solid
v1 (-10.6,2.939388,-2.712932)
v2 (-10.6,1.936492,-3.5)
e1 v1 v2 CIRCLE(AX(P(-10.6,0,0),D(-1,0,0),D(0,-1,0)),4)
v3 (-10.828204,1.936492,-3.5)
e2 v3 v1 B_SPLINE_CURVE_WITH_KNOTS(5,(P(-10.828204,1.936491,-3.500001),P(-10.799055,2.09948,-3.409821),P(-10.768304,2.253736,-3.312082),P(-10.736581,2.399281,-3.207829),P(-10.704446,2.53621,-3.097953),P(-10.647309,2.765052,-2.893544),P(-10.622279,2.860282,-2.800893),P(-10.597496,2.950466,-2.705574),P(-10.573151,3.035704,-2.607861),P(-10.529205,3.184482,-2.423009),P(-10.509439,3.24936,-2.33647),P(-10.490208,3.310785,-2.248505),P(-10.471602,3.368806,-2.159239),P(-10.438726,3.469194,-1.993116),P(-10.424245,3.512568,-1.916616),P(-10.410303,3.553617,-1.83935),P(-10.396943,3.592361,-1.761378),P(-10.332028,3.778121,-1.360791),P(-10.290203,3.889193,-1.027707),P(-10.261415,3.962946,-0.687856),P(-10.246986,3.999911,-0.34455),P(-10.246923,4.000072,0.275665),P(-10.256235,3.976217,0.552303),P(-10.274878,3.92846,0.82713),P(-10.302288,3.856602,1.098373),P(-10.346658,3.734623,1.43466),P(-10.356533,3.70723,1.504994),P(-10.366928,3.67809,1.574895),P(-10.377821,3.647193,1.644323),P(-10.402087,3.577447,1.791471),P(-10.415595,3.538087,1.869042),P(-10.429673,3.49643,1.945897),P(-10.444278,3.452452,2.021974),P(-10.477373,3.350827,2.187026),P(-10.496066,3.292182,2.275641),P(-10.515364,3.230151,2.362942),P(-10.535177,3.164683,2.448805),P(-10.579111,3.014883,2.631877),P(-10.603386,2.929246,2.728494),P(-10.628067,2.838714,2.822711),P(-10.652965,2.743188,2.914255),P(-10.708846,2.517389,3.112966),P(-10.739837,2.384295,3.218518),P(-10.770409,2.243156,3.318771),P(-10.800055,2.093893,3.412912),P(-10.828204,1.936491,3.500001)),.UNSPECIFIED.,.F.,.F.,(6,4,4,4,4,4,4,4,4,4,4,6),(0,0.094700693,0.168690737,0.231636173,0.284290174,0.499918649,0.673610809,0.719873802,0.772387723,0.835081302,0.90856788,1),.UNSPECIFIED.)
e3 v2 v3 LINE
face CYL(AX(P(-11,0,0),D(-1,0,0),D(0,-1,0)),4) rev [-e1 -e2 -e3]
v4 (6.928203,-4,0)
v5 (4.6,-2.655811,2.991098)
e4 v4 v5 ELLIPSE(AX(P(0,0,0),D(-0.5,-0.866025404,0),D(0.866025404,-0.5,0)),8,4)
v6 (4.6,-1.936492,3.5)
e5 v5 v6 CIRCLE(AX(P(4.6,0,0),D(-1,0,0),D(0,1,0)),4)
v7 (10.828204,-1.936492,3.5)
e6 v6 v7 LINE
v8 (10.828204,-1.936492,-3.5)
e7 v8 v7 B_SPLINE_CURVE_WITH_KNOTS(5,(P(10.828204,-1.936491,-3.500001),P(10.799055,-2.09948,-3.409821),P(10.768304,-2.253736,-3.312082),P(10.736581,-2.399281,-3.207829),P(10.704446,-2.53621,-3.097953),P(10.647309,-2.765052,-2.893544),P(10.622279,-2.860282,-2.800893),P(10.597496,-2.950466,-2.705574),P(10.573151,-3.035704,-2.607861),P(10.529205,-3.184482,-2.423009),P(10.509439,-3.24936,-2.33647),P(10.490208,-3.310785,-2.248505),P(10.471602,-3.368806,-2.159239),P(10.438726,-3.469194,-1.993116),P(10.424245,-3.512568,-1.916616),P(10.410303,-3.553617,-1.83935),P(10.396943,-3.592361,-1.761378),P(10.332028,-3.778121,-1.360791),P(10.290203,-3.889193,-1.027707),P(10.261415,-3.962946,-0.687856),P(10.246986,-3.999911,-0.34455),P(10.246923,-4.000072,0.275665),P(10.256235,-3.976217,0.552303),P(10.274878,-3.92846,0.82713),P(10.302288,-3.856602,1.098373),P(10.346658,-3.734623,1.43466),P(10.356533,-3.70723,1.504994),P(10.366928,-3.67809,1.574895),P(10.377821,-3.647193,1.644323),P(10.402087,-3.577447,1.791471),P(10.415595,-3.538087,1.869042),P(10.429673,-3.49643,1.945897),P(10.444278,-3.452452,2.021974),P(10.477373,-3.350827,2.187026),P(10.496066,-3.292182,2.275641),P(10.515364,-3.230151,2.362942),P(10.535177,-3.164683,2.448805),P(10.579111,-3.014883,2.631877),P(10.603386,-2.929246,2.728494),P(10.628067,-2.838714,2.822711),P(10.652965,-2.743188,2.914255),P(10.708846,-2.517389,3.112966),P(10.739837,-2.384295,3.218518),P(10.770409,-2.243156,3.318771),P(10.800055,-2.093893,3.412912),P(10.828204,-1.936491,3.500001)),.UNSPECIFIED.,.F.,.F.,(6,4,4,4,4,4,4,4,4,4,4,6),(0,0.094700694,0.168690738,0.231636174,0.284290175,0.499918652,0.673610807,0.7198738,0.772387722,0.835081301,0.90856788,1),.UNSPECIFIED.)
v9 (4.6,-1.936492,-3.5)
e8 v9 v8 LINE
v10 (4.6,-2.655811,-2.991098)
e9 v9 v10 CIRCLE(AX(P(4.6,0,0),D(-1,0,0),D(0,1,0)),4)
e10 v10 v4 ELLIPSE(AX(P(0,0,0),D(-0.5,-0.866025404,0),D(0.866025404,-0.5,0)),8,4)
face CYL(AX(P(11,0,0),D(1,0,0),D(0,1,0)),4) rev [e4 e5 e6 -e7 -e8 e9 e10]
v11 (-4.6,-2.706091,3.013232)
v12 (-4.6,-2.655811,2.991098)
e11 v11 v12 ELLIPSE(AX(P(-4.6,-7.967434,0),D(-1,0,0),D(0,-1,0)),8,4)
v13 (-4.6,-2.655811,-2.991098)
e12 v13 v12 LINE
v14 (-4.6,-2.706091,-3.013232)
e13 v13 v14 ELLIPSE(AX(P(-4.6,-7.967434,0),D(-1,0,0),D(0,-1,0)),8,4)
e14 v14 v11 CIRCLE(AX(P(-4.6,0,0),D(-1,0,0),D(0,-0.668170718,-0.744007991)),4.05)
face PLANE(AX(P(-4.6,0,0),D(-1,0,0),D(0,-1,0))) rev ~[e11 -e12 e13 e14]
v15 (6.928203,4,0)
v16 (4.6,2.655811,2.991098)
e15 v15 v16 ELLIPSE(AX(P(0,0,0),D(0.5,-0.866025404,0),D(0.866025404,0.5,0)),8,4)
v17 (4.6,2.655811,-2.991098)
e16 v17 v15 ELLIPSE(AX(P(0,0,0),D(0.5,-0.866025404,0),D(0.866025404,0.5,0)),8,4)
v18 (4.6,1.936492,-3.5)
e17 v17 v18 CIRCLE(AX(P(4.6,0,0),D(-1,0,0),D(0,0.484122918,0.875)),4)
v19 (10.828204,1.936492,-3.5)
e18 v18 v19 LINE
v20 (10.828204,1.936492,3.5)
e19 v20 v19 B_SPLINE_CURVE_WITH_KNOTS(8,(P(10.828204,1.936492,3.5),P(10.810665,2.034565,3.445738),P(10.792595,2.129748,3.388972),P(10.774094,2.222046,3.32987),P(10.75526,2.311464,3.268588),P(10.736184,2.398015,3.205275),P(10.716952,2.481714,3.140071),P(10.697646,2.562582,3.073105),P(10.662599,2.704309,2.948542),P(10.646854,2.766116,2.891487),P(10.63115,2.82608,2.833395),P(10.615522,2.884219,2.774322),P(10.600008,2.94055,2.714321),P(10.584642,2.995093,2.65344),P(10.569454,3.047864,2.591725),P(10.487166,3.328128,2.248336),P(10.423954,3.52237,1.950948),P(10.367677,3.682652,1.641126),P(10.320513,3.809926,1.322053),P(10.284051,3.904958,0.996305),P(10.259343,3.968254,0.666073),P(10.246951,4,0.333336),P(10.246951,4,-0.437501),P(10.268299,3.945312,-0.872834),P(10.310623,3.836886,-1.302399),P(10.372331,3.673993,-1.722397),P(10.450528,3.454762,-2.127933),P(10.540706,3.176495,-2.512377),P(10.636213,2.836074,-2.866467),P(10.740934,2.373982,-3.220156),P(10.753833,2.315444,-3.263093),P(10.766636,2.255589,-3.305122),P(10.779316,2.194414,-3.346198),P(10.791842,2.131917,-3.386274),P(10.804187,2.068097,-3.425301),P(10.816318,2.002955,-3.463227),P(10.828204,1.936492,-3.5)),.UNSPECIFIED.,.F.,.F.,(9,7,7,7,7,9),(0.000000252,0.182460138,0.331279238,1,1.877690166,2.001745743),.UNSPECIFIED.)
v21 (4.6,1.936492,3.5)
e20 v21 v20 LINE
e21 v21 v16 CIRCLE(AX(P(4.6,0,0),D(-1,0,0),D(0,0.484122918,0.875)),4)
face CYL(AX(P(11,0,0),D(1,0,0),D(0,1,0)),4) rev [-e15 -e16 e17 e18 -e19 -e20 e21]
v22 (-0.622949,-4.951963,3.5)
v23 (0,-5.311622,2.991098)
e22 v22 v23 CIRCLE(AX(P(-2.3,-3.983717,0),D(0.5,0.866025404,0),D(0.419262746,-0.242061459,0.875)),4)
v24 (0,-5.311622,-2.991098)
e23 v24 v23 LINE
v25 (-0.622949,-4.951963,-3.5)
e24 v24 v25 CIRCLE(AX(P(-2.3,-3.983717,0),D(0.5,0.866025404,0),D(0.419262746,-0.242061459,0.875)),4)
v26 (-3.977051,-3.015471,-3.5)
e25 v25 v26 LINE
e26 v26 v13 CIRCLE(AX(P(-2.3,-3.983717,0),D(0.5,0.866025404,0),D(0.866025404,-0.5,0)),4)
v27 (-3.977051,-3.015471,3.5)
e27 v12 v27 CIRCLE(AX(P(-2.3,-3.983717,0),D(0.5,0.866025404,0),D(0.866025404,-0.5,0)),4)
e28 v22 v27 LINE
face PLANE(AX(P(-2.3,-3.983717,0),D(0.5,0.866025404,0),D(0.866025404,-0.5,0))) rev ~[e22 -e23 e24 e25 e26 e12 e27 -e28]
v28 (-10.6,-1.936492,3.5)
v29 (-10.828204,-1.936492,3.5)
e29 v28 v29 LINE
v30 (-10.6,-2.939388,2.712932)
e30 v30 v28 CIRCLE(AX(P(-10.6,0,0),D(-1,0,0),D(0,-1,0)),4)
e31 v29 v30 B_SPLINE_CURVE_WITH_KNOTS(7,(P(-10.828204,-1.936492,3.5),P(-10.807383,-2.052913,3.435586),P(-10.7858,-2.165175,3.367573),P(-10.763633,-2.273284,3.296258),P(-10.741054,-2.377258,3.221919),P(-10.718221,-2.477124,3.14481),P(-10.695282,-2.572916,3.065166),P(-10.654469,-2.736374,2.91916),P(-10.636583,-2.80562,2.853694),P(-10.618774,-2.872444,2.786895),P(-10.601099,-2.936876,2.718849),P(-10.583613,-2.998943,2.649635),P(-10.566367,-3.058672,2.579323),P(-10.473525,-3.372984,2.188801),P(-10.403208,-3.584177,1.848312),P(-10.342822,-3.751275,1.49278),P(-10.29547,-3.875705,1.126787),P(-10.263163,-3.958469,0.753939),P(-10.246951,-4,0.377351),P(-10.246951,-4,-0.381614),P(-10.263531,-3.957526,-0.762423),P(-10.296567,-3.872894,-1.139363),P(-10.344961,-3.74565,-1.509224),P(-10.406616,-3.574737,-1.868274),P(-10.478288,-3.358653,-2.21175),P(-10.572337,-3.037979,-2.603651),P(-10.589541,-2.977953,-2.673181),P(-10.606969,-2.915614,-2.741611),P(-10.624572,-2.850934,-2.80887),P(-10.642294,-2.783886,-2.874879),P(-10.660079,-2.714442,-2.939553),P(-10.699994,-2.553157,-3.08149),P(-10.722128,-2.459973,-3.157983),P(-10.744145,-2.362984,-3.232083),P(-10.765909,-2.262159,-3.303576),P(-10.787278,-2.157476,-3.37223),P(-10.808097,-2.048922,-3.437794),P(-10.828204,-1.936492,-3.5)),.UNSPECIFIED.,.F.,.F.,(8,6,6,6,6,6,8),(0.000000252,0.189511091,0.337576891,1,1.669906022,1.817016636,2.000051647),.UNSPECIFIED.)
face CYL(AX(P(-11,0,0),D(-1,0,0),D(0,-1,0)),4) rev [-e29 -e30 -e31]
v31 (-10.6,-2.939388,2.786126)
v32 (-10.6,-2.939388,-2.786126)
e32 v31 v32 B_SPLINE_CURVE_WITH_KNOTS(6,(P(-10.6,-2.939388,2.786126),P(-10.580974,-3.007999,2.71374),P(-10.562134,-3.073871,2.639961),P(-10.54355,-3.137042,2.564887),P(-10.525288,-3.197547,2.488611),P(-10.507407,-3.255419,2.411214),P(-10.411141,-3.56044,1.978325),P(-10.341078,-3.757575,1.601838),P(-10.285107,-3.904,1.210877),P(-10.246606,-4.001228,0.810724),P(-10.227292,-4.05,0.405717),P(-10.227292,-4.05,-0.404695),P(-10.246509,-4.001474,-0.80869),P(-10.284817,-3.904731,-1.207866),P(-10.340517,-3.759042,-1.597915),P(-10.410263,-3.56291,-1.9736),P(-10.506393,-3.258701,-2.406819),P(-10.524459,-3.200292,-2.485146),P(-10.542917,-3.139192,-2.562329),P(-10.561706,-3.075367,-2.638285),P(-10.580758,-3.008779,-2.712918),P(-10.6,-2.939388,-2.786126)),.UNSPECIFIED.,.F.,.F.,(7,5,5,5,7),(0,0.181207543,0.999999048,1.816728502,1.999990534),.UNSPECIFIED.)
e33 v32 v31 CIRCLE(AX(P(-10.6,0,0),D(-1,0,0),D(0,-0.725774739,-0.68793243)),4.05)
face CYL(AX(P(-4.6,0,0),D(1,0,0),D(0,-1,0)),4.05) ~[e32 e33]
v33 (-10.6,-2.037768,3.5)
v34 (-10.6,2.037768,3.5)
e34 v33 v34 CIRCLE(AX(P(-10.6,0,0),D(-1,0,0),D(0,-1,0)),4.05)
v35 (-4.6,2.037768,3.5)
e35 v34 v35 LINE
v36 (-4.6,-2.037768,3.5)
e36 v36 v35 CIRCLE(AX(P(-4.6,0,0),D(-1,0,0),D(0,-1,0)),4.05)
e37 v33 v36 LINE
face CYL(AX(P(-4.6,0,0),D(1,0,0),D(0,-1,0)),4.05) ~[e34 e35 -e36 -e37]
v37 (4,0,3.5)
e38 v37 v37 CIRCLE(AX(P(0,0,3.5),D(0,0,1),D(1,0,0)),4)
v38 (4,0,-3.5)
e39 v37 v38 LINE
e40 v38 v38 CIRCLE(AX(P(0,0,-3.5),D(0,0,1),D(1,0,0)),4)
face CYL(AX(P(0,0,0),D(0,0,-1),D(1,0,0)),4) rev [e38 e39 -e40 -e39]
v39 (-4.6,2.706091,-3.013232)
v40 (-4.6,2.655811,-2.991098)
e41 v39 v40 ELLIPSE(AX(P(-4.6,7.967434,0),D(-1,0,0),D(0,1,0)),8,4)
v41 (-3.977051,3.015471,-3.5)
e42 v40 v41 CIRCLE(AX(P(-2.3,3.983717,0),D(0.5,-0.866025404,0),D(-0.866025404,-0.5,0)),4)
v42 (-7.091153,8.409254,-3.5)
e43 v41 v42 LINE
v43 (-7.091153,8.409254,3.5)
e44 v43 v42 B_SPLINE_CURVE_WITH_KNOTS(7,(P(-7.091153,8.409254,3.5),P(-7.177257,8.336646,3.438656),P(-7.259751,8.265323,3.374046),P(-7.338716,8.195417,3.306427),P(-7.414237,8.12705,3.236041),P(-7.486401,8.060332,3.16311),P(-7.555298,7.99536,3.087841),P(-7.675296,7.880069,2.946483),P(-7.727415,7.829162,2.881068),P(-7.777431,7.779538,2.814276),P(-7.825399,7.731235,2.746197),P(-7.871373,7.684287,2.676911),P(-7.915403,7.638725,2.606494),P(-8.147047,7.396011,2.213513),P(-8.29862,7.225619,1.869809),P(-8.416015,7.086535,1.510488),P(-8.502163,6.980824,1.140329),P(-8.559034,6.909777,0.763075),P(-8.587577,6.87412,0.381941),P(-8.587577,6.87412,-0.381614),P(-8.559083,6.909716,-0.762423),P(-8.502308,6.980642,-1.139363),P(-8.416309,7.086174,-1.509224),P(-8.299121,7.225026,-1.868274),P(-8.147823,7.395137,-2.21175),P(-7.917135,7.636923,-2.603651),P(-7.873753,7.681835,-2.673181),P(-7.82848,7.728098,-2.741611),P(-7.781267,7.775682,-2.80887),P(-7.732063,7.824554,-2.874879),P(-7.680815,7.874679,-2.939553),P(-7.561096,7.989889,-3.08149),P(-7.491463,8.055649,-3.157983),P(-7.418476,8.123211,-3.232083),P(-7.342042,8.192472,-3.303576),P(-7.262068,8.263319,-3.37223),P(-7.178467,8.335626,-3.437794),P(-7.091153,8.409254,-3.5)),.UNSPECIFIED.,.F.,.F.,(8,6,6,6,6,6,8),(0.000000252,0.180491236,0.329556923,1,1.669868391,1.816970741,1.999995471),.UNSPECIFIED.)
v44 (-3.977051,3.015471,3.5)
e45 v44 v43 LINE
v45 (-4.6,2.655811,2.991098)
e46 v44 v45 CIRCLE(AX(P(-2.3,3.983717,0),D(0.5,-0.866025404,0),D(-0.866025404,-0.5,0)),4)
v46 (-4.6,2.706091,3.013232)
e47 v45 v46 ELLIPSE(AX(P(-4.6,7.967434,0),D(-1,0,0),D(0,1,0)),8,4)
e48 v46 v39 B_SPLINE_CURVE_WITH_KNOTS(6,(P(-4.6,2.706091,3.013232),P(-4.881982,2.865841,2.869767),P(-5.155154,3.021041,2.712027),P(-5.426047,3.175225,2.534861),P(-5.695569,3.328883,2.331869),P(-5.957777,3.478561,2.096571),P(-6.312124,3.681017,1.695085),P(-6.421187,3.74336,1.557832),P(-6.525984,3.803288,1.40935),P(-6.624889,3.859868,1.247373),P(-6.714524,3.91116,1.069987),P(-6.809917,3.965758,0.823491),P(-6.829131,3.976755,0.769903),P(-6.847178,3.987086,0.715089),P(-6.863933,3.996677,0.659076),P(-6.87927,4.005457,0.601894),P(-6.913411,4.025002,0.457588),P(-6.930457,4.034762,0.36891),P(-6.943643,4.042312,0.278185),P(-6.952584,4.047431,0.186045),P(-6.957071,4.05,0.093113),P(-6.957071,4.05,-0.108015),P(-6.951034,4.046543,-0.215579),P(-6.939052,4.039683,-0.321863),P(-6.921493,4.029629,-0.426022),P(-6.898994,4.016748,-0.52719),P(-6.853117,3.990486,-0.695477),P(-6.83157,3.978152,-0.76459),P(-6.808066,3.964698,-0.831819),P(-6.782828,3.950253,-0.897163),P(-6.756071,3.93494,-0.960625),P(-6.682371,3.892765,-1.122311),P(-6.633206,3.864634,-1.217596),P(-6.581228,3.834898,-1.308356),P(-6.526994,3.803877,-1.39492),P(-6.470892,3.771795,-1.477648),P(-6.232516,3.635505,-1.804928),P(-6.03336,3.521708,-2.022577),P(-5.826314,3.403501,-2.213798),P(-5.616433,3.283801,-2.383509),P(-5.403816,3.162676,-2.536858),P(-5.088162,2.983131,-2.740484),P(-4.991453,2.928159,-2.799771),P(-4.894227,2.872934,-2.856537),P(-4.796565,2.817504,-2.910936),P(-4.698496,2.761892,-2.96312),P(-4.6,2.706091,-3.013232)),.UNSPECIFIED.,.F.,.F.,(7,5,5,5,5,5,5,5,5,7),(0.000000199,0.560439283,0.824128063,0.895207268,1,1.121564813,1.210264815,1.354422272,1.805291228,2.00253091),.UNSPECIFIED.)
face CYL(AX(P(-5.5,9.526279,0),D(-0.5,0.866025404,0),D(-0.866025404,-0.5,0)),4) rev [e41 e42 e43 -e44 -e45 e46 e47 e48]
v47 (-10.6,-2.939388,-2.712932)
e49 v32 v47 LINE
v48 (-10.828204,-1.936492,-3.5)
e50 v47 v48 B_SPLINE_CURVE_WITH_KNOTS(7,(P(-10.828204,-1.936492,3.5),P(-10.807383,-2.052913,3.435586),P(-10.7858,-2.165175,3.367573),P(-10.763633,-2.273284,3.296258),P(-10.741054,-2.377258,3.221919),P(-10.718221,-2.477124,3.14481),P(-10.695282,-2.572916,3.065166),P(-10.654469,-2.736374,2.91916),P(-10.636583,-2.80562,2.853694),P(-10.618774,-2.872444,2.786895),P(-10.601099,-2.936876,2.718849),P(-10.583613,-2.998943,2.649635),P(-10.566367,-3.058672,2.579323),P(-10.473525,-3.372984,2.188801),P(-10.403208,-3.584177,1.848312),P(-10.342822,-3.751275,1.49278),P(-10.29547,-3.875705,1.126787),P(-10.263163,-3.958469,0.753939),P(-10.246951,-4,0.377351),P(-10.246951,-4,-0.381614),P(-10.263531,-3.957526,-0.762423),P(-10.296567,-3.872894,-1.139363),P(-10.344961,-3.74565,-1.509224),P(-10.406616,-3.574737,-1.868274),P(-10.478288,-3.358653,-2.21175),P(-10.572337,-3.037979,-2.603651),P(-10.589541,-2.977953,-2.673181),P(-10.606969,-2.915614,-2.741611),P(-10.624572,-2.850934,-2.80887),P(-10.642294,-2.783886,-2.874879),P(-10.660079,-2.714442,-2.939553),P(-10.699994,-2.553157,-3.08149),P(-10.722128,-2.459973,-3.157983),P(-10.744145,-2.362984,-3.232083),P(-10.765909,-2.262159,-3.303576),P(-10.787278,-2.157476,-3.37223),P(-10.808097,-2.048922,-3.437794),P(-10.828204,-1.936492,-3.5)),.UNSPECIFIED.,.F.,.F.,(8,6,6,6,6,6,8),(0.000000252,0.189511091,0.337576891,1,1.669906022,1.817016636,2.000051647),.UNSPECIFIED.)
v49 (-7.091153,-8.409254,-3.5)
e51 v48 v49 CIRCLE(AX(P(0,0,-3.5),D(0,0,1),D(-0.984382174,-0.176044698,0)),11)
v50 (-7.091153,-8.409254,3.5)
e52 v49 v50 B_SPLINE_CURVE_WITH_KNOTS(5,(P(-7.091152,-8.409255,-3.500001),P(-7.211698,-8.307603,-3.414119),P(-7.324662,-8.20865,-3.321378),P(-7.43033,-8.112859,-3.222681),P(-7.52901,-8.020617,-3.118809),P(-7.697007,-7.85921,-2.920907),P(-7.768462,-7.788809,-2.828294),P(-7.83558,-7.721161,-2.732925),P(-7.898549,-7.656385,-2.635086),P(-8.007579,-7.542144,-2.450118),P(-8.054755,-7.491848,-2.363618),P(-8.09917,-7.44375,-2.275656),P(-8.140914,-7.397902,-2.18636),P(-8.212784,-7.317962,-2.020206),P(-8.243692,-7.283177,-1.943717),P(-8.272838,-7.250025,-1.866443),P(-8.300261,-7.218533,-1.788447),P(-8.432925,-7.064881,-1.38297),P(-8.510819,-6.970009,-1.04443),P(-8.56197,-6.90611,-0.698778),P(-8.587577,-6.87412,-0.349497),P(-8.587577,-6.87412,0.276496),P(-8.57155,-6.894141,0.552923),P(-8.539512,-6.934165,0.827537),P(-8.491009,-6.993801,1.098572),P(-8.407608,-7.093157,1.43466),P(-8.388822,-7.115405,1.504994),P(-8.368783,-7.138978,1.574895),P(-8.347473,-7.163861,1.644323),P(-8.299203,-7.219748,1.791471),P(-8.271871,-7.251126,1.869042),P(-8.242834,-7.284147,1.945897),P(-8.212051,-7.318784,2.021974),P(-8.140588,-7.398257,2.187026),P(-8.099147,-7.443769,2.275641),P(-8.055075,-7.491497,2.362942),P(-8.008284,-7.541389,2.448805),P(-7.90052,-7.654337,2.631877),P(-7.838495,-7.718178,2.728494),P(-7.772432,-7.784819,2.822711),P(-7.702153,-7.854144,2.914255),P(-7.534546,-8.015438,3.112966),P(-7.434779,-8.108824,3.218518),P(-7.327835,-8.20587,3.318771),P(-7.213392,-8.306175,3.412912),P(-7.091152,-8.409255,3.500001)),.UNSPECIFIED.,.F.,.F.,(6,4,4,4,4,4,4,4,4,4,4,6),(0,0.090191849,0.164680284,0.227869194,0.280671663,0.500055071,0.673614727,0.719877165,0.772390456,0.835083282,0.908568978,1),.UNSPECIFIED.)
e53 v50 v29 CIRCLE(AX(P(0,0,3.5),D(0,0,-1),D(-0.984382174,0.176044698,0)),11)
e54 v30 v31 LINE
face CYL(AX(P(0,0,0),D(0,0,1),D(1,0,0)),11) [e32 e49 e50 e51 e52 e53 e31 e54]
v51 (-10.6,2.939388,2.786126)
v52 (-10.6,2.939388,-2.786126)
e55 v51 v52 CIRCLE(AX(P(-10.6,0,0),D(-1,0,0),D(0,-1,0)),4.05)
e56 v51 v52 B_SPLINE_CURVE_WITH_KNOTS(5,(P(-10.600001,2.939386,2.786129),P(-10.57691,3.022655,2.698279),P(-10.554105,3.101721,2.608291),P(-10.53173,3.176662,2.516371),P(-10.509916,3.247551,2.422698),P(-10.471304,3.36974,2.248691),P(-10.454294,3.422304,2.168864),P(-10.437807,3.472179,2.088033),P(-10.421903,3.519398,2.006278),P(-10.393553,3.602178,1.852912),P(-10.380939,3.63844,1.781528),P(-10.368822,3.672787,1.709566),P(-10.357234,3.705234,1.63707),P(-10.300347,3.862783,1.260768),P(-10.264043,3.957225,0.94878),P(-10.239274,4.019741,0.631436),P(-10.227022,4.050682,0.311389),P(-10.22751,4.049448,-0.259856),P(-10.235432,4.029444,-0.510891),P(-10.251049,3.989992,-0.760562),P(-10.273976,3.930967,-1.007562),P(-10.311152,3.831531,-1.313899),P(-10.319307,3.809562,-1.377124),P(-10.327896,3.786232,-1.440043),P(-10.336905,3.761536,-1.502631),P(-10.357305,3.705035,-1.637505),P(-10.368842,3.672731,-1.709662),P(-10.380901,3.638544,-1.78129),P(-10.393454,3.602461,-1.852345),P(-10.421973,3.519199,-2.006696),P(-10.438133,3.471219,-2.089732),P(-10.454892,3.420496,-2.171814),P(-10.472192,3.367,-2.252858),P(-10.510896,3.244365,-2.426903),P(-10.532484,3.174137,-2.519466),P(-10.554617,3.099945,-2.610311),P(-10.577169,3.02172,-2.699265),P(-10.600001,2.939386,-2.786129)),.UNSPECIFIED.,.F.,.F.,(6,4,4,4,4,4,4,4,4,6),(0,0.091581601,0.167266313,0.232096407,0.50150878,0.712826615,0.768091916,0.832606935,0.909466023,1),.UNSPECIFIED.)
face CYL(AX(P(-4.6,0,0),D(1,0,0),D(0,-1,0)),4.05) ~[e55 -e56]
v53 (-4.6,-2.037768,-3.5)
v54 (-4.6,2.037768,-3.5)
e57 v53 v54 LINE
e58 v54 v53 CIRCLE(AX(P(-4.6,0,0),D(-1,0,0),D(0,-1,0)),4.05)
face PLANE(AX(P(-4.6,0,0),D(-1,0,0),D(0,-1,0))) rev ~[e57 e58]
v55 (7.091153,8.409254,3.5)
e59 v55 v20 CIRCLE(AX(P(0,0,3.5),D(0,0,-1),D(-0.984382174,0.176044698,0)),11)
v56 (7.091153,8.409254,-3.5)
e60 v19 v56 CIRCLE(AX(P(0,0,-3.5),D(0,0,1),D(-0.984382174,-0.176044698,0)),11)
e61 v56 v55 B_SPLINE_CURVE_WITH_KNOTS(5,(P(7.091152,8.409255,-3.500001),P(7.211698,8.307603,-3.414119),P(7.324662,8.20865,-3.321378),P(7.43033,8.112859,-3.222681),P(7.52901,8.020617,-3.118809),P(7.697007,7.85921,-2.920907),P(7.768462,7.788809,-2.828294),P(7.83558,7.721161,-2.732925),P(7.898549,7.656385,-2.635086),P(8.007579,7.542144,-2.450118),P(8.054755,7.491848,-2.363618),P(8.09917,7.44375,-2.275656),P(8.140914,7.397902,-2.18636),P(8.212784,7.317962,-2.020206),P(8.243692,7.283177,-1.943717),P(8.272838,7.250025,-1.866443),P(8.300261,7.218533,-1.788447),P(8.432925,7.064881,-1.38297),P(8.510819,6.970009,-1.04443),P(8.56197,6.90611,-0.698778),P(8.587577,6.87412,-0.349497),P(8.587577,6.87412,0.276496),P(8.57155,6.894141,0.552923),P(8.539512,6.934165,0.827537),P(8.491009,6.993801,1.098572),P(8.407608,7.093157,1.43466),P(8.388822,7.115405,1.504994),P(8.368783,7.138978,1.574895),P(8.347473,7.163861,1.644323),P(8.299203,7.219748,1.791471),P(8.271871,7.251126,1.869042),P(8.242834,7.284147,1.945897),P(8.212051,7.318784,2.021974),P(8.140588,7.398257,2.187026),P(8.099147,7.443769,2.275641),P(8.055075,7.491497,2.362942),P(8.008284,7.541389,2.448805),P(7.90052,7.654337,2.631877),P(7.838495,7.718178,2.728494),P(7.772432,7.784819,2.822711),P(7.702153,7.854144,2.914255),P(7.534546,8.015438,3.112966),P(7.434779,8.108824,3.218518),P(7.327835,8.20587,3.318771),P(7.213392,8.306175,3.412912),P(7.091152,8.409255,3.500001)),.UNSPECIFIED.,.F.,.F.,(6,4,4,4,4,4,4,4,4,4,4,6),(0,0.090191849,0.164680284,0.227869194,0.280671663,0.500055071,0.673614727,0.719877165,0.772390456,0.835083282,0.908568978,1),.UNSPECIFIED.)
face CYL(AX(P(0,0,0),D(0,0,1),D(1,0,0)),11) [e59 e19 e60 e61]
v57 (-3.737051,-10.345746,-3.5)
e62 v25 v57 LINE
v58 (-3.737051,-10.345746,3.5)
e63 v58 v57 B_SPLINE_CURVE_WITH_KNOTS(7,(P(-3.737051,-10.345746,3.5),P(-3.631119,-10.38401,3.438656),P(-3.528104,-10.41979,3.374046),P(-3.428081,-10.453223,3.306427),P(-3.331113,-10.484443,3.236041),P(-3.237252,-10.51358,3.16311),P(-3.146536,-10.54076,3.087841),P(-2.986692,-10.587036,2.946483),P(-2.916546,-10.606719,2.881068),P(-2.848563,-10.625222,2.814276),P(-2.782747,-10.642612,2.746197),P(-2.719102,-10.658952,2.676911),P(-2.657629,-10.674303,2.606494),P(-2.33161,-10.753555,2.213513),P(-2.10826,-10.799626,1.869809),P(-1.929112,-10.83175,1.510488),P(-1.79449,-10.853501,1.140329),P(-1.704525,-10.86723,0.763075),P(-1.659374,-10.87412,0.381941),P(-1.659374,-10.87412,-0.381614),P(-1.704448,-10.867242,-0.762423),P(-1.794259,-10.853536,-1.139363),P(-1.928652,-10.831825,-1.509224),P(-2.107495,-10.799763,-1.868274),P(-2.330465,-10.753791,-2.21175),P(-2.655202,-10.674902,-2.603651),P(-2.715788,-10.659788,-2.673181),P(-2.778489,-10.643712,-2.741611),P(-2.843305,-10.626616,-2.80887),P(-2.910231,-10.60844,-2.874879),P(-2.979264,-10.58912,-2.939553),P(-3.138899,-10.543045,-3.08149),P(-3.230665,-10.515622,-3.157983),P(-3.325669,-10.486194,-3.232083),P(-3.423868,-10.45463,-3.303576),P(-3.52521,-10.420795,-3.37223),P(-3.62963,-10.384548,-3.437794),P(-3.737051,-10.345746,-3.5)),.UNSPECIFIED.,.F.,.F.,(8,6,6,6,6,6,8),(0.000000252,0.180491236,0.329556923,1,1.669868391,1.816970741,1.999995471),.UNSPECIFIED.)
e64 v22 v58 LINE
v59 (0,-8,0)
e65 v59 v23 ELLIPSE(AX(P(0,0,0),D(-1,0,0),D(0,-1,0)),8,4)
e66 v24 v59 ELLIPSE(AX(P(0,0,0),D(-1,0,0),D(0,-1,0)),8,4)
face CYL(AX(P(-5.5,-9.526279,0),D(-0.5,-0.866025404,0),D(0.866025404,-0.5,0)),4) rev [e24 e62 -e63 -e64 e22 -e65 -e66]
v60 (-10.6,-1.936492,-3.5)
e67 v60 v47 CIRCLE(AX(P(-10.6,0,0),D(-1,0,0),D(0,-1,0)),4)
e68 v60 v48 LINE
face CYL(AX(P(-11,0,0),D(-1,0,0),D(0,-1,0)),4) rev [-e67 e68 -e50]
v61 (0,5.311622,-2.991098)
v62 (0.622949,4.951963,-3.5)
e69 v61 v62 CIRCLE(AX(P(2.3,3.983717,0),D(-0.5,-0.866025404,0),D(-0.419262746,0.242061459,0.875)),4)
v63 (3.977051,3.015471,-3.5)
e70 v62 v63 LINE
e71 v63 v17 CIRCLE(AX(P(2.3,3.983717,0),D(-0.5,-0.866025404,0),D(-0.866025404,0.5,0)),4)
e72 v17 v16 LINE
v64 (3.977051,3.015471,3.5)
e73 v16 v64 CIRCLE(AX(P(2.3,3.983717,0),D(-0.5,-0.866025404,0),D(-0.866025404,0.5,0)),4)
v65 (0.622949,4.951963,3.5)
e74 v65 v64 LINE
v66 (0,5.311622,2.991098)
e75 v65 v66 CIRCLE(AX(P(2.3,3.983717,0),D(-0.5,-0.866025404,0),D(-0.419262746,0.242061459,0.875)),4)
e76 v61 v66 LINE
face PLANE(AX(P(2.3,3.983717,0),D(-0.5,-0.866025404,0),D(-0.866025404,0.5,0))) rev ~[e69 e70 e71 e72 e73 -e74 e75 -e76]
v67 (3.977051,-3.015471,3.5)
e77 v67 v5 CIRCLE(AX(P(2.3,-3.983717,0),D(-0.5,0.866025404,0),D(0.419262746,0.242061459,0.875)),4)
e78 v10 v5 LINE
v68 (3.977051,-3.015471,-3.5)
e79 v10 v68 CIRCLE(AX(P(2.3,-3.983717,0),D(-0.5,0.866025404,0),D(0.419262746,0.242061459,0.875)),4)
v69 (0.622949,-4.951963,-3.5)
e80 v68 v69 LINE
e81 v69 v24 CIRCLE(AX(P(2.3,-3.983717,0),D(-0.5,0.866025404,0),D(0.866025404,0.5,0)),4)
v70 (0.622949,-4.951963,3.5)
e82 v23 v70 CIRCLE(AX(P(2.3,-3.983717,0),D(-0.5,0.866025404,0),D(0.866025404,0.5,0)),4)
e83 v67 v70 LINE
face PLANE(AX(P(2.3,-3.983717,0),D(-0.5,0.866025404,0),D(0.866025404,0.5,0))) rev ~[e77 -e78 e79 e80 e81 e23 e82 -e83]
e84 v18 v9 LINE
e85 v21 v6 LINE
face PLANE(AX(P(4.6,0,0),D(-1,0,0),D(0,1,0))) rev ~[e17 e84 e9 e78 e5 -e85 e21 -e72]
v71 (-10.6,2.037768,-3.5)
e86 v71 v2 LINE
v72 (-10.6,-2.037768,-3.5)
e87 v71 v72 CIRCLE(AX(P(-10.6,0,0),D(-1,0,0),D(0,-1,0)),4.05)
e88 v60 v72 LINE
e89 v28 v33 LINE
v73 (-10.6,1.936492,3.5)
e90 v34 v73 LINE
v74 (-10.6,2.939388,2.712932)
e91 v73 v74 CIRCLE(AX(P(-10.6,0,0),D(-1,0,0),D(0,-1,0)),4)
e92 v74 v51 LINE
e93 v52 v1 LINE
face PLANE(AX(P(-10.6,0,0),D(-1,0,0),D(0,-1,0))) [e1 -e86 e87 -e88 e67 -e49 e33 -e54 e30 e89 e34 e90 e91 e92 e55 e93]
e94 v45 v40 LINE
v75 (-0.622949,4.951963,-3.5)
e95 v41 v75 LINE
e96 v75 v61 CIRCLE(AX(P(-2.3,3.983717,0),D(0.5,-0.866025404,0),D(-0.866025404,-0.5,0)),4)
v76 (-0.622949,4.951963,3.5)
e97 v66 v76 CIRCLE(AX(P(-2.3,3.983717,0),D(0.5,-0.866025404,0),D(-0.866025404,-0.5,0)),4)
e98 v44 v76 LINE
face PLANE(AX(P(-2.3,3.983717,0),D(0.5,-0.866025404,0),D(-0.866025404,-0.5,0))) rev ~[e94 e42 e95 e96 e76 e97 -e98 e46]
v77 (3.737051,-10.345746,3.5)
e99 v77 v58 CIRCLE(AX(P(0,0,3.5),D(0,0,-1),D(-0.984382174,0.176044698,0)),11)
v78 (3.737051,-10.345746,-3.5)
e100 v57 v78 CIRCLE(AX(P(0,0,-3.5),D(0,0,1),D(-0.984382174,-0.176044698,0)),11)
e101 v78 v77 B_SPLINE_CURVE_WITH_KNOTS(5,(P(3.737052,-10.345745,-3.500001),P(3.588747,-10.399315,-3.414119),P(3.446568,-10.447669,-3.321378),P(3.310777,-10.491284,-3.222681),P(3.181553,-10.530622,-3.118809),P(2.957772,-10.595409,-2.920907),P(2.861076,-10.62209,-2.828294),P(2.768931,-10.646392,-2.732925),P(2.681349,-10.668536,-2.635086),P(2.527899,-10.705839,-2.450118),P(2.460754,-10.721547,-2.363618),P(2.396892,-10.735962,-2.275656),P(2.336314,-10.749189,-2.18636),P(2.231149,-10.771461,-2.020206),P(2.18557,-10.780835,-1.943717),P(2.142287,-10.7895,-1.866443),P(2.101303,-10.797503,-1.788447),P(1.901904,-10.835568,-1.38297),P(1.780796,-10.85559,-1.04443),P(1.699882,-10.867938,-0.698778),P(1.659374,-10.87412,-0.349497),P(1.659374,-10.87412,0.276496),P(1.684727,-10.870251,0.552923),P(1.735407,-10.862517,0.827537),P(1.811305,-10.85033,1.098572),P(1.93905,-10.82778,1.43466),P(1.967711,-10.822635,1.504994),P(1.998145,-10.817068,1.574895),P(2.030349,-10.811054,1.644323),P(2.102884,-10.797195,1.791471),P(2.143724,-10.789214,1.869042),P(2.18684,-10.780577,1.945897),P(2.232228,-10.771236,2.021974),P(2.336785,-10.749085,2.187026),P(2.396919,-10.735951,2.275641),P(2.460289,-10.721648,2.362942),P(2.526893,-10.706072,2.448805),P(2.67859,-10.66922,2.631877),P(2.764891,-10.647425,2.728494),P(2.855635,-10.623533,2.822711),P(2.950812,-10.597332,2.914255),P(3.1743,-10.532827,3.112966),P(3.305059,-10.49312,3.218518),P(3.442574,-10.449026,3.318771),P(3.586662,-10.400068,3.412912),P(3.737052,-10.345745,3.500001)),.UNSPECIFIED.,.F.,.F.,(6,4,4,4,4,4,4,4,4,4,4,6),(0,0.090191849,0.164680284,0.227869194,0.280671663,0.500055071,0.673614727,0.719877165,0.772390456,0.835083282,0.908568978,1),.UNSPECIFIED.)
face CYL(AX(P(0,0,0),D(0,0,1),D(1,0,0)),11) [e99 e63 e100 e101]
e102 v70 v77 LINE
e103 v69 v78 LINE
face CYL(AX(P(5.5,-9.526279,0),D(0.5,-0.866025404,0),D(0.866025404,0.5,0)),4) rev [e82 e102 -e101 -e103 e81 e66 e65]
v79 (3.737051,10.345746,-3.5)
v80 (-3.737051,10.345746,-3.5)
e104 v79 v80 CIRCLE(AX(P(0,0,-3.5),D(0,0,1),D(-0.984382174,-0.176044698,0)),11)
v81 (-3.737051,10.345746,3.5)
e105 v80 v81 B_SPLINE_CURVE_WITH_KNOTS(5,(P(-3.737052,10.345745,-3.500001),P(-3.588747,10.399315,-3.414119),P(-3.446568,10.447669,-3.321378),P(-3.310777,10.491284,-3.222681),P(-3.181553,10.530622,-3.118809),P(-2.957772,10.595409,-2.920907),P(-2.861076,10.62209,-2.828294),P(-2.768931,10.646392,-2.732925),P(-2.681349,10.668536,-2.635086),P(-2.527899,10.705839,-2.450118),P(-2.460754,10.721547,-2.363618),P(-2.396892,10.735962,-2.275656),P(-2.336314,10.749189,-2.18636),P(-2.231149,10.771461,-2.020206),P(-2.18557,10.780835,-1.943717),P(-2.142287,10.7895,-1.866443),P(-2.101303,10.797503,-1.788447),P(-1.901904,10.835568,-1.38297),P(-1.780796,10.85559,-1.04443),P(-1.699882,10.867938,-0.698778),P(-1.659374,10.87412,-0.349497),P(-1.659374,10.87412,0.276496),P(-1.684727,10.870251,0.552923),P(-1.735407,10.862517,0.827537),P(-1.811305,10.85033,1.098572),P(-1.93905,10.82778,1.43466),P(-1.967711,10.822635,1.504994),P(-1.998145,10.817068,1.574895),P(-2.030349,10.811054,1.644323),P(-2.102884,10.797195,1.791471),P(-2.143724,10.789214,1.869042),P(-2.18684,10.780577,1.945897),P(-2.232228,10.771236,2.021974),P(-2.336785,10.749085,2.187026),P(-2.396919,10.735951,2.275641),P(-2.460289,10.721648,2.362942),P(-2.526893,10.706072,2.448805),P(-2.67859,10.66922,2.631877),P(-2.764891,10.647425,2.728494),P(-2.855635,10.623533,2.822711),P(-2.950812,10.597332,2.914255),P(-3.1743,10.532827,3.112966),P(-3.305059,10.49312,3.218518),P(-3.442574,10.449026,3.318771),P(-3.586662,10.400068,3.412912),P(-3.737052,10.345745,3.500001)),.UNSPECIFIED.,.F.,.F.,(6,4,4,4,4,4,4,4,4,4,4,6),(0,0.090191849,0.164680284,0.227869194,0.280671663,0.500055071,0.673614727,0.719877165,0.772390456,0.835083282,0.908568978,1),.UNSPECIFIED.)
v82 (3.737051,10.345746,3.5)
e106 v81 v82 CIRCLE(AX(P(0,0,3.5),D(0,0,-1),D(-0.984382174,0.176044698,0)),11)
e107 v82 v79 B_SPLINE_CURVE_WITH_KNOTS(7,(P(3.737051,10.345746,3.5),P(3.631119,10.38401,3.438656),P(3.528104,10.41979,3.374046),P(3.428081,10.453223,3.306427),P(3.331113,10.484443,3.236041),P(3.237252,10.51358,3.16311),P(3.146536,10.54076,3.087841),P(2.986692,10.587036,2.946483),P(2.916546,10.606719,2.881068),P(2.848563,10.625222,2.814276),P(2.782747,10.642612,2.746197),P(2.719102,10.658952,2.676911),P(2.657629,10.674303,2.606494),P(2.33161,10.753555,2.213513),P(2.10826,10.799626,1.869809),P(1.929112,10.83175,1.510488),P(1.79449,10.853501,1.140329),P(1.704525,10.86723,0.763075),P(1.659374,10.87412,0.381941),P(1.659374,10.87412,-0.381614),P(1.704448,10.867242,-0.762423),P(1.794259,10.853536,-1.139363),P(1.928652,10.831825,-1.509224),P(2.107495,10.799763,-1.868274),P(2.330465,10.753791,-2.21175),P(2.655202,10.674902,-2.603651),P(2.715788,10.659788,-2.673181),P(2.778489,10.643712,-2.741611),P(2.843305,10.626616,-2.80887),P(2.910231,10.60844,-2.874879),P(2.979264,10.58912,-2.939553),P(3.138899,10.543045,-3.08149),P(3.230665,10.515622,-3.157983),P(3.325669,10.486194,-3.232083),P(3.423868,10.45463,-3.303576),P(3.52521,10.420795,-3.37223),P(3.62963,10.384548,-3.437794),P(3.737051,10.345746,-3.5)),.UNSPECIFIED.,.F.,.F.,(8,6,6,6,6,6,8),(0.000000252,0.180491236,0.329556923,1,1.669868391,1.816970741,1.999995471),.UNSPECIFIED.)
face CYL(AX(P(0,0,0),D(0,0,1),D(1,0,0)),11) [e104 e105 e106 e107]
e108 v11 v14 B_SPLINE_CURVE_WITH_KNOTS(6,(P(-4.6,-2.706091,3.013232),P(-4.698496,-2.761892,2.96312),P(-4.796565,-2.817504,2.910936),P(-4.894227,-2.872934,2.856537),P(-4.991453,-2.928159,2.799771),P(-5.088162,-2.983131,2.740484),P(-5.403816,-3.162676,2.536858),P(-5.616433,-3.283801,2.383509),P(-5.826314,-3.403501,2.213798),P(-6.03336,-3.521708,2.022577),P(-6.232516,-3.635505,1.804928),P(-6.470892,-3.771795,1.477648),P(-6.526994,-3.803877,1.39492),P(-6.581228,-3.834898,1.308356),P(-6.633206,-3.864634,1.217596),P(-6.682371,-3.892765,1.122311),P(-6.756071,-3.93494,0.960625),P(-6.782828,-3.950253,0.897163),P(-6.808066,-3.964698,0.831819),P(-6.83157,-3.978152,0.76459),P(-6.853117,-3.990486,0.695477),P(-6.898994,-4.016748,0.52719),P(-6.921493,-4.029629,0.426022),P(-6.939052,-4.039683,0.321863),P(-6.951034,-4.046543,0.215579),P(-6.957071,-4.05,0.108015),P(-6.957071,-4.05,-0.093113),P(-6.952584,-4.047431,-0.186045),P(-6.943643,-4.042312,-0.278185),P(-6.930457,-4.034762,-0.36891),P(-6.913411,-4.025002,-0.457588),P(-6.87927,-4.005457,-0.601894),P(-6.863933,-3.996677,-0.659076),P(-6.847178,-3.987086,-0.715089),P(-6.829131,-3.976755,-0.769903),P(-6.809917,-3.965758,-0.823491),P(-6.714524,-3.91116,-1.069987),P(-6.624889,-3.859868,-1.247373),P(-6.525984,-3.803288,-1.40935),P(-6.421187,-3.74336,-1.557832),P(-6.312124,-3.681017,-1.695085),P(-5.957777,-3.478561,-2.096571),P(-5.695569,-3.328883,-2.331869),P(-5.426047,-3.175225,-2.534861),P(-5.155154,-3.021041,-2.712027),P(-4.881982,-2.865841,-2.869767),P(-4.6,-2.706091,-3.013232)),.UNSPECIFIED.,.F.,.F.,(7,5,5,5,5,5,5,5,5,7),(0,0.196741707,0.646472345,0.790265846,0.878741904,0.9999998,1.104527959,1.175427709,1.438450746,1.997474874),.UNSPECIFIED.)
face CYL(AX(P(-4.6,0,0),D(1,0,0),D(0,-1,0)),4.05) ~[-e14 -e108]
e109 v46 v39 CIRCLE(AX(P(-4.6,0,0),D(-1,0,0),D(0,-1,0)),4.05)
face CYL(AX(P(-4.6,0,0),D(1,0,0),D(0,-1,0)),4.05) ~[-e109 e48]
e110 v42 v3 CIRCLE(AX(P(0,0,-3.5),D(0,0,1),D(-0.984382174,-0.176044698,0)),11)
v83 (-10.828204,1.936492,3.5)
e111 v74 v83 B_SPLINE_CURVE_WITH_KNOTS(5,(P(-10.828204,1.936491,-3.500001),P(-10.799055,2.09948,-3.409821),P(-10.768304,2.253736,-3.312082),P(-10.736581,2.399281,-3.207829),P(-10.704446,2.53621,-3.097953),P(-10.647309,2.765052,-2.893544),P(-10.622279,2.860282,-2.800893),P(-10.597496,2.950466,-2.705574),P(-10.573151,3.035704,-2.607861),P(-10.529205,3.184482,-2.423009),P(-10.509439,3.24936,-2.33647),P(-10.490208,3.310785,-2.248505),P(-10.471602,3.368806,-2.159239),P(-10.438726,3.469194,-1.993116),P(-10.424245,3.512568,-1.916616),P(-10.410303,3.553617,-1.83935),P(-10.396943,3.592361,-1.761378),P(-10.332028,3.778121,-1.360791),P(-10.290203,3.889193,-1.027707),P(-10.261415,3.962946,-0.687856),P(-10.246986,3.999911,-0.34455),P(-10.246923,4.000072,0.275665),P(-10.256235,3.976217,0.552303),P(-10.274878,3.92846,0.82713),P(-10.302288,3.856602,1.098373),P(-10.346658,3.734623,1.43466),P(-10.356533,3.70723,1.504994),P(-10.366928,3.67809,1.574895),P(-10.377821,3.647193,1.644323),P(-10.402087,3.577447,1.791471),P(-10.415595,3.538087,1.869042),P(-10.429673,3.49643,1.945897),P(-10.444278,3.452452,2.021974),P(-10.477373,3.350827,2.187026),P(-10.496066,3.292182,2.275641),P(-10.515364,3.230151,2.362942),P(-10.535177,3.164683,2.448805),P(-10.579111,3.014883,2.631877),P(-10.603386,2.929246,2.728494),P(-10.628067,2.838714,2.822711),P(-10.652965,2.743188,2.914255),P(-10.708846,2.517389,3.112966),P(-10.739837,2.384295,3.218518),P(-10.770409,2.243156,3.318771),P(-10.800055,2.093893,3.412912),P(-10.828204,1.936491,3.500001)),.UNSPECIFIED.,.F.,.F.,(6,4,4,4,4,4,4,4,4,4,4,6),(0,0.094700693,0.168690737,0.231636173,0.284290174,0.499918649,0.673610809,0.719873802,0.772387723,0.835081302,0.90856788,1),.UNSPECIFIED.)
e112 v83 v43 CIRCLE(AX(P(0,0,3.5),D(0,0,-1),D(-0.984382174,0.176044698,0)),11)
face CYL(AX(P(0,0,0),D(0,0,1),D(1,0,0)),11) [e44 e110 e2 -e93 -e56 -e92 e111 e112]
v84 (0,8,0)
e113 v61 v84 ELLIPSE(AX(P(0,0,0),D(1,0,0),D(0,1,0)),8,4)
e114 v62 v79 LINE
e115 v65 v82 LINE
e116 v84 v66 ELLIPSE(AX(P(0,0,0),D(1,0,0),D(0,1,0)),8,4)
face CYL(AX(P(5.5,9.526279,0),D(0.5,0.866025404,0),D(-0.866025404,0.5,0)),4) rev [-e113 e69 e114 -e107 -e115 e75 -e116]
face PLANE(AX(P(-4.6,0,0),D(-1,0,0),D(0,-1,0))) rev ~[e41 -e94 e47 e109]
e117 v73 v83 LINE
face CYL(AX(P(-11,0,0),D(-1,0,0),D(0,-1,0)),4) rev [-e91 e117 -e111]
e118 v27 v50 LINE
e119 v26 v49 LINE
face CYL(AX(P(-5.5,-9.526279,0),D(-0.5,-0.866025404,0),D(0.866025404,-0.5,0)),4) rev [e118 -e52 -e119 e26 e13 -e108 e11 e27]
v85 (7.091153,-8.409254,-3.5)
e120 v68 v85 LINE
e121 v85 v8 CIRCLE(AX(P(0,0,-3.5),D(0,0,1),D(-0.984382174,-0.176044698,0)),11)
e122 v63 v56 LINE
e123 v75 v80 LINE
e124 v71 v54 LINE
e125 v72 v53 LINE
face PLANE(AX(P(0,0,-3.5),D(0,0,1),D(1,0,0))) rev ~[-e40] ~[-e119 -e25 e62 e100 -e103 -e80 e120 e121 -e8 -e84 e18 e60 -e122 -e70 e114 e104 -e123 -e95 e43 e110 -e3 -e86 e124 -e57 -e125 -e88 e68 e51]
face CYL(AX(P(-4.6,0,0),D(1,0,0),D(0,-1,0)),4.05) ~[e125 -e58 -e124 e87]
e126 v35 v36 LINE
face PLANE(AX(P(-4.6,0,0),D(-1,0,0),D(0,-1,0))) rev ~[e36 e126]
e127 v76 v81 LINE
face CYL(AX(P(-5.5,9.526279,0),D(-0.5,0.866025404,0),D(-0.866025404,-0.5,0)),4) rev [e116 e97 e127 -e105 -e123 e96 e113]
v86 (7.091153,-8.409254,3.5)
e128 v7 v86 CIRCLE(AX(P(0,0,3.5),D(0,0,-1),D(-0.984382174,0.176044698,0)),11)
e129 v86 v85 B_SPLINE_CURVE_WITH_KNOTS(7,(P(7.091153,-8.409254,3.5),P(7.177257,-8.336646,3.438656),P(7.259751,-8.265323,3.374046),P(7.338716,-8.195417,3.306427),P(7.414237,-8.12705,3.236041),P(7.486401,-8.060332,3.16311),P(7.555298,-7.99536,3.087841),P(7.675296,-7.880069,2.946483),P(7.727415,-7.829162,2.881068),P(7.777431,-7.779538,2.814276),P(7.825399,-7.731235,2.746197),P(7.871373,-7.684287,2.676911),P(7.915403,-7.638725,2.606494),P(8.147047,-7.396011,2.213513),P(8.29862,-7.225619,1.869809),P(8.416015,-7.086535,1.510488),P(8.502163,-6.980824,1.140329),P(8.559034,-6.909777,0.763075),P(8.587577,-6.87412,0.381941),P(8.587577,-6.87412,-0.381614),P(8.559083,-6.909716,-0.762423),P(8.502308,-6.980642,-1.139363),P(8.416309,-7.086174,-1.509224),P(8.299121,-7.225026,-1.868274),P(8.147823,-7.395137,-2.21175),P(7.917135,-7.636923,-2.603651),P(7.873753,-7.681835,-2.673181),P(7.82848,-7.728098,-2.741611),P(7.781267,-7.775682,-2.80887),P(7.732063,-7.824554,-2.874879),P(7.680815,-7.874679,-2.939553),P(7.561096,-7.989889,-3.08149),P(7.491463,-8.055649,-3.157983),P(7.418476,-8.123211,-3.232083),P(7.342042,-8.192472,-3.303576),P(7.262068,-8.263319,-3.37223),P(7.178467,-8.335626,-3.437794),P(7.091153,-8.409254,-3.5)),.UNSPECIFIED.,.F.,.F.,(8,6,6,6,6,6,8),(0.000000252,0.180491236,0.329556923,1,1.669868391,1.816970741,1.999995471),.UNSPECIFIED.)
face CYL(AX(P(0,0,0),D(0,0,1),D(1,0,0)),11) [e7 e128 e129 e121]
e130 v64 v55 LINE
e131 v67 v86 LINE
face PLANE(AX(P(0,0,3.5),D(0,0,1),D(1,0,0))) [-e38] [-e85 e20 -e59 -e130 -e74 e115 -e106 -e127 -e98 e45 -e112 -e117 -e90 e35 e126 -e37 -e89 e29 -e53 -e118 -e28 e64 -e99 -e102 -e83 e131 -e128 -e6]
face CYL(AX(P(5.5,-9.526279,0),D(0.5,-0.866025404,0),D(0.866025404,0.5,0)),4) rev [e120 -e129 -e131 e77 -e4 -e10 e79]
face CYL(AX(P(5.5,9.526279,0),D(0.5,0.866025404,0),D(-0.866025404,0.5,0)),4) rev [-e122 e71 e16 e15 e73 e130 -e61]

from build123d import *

# Parameters (mm, degrees)
SKETCH1_R           = 11
SKETCH1_R_2         = 4
BOSS_EXTRUDE1_DEPTH = 3.5
SKETCH2_R           = 4
CUT_EXTRUDE3_DEPTH  = 6.4
CIRPATTERN1_COUNT   = 6
SKETCH3_R           = 4.05
BOSS_EXTRUDE2_DEPTH = 6


with BuildPart() as part:
    # Sketch1 → Boss-Extrude1 (new, symmetric)
    with BuildSketch(Plane.XY):
        Circle(SKETCH1_R)
        Circle(SKETCH1_R_2, mode=Mode.SUBTRACT)
    extrude(amount=BOSS_EXTRUDE1_DEPTH, both=True)

    # Sketch2 → Cut-Extrude3 (cut)
    with BuildSketch(Plane(origin=(-11, -17.193061184, 0), x_dir=(0, -1, 0), z_dir=(1, 0, 0))):
        with Locations((-17.193061184, 0)):
            Circle(SKETCH2_R)
    cut_extrude3 = extrude(amount=CUT_EXTRUDE3_DEPTH, mode=Mode.SUBTRACT)

    # CirPattern1: Cut-Extrude3 ×6 about axis
    cirpattern1_axis = Axis((0, 0, 3.5), (0, 0, 1))
    for i in range(1, CIRPATTERN1_COUNT):
        add(cut_extrude3.rotate(cirpattern1_axis, i * 360 / CIRPATTERN1_COUNT), mode=Mode.SUBTRACT)

    # Sketch3 → Boss-Extrude2 (add)
    with BuildSketch(Plane(origin=(-4.6, 0, 0), x_dir=(0, -1, 0), z_dir=(-1, 0, 0))):
        Circle(SKETCH3_R)
    extrude(amount=BOSS_EXTRUDE2_DEPTH)


solid = part.part
